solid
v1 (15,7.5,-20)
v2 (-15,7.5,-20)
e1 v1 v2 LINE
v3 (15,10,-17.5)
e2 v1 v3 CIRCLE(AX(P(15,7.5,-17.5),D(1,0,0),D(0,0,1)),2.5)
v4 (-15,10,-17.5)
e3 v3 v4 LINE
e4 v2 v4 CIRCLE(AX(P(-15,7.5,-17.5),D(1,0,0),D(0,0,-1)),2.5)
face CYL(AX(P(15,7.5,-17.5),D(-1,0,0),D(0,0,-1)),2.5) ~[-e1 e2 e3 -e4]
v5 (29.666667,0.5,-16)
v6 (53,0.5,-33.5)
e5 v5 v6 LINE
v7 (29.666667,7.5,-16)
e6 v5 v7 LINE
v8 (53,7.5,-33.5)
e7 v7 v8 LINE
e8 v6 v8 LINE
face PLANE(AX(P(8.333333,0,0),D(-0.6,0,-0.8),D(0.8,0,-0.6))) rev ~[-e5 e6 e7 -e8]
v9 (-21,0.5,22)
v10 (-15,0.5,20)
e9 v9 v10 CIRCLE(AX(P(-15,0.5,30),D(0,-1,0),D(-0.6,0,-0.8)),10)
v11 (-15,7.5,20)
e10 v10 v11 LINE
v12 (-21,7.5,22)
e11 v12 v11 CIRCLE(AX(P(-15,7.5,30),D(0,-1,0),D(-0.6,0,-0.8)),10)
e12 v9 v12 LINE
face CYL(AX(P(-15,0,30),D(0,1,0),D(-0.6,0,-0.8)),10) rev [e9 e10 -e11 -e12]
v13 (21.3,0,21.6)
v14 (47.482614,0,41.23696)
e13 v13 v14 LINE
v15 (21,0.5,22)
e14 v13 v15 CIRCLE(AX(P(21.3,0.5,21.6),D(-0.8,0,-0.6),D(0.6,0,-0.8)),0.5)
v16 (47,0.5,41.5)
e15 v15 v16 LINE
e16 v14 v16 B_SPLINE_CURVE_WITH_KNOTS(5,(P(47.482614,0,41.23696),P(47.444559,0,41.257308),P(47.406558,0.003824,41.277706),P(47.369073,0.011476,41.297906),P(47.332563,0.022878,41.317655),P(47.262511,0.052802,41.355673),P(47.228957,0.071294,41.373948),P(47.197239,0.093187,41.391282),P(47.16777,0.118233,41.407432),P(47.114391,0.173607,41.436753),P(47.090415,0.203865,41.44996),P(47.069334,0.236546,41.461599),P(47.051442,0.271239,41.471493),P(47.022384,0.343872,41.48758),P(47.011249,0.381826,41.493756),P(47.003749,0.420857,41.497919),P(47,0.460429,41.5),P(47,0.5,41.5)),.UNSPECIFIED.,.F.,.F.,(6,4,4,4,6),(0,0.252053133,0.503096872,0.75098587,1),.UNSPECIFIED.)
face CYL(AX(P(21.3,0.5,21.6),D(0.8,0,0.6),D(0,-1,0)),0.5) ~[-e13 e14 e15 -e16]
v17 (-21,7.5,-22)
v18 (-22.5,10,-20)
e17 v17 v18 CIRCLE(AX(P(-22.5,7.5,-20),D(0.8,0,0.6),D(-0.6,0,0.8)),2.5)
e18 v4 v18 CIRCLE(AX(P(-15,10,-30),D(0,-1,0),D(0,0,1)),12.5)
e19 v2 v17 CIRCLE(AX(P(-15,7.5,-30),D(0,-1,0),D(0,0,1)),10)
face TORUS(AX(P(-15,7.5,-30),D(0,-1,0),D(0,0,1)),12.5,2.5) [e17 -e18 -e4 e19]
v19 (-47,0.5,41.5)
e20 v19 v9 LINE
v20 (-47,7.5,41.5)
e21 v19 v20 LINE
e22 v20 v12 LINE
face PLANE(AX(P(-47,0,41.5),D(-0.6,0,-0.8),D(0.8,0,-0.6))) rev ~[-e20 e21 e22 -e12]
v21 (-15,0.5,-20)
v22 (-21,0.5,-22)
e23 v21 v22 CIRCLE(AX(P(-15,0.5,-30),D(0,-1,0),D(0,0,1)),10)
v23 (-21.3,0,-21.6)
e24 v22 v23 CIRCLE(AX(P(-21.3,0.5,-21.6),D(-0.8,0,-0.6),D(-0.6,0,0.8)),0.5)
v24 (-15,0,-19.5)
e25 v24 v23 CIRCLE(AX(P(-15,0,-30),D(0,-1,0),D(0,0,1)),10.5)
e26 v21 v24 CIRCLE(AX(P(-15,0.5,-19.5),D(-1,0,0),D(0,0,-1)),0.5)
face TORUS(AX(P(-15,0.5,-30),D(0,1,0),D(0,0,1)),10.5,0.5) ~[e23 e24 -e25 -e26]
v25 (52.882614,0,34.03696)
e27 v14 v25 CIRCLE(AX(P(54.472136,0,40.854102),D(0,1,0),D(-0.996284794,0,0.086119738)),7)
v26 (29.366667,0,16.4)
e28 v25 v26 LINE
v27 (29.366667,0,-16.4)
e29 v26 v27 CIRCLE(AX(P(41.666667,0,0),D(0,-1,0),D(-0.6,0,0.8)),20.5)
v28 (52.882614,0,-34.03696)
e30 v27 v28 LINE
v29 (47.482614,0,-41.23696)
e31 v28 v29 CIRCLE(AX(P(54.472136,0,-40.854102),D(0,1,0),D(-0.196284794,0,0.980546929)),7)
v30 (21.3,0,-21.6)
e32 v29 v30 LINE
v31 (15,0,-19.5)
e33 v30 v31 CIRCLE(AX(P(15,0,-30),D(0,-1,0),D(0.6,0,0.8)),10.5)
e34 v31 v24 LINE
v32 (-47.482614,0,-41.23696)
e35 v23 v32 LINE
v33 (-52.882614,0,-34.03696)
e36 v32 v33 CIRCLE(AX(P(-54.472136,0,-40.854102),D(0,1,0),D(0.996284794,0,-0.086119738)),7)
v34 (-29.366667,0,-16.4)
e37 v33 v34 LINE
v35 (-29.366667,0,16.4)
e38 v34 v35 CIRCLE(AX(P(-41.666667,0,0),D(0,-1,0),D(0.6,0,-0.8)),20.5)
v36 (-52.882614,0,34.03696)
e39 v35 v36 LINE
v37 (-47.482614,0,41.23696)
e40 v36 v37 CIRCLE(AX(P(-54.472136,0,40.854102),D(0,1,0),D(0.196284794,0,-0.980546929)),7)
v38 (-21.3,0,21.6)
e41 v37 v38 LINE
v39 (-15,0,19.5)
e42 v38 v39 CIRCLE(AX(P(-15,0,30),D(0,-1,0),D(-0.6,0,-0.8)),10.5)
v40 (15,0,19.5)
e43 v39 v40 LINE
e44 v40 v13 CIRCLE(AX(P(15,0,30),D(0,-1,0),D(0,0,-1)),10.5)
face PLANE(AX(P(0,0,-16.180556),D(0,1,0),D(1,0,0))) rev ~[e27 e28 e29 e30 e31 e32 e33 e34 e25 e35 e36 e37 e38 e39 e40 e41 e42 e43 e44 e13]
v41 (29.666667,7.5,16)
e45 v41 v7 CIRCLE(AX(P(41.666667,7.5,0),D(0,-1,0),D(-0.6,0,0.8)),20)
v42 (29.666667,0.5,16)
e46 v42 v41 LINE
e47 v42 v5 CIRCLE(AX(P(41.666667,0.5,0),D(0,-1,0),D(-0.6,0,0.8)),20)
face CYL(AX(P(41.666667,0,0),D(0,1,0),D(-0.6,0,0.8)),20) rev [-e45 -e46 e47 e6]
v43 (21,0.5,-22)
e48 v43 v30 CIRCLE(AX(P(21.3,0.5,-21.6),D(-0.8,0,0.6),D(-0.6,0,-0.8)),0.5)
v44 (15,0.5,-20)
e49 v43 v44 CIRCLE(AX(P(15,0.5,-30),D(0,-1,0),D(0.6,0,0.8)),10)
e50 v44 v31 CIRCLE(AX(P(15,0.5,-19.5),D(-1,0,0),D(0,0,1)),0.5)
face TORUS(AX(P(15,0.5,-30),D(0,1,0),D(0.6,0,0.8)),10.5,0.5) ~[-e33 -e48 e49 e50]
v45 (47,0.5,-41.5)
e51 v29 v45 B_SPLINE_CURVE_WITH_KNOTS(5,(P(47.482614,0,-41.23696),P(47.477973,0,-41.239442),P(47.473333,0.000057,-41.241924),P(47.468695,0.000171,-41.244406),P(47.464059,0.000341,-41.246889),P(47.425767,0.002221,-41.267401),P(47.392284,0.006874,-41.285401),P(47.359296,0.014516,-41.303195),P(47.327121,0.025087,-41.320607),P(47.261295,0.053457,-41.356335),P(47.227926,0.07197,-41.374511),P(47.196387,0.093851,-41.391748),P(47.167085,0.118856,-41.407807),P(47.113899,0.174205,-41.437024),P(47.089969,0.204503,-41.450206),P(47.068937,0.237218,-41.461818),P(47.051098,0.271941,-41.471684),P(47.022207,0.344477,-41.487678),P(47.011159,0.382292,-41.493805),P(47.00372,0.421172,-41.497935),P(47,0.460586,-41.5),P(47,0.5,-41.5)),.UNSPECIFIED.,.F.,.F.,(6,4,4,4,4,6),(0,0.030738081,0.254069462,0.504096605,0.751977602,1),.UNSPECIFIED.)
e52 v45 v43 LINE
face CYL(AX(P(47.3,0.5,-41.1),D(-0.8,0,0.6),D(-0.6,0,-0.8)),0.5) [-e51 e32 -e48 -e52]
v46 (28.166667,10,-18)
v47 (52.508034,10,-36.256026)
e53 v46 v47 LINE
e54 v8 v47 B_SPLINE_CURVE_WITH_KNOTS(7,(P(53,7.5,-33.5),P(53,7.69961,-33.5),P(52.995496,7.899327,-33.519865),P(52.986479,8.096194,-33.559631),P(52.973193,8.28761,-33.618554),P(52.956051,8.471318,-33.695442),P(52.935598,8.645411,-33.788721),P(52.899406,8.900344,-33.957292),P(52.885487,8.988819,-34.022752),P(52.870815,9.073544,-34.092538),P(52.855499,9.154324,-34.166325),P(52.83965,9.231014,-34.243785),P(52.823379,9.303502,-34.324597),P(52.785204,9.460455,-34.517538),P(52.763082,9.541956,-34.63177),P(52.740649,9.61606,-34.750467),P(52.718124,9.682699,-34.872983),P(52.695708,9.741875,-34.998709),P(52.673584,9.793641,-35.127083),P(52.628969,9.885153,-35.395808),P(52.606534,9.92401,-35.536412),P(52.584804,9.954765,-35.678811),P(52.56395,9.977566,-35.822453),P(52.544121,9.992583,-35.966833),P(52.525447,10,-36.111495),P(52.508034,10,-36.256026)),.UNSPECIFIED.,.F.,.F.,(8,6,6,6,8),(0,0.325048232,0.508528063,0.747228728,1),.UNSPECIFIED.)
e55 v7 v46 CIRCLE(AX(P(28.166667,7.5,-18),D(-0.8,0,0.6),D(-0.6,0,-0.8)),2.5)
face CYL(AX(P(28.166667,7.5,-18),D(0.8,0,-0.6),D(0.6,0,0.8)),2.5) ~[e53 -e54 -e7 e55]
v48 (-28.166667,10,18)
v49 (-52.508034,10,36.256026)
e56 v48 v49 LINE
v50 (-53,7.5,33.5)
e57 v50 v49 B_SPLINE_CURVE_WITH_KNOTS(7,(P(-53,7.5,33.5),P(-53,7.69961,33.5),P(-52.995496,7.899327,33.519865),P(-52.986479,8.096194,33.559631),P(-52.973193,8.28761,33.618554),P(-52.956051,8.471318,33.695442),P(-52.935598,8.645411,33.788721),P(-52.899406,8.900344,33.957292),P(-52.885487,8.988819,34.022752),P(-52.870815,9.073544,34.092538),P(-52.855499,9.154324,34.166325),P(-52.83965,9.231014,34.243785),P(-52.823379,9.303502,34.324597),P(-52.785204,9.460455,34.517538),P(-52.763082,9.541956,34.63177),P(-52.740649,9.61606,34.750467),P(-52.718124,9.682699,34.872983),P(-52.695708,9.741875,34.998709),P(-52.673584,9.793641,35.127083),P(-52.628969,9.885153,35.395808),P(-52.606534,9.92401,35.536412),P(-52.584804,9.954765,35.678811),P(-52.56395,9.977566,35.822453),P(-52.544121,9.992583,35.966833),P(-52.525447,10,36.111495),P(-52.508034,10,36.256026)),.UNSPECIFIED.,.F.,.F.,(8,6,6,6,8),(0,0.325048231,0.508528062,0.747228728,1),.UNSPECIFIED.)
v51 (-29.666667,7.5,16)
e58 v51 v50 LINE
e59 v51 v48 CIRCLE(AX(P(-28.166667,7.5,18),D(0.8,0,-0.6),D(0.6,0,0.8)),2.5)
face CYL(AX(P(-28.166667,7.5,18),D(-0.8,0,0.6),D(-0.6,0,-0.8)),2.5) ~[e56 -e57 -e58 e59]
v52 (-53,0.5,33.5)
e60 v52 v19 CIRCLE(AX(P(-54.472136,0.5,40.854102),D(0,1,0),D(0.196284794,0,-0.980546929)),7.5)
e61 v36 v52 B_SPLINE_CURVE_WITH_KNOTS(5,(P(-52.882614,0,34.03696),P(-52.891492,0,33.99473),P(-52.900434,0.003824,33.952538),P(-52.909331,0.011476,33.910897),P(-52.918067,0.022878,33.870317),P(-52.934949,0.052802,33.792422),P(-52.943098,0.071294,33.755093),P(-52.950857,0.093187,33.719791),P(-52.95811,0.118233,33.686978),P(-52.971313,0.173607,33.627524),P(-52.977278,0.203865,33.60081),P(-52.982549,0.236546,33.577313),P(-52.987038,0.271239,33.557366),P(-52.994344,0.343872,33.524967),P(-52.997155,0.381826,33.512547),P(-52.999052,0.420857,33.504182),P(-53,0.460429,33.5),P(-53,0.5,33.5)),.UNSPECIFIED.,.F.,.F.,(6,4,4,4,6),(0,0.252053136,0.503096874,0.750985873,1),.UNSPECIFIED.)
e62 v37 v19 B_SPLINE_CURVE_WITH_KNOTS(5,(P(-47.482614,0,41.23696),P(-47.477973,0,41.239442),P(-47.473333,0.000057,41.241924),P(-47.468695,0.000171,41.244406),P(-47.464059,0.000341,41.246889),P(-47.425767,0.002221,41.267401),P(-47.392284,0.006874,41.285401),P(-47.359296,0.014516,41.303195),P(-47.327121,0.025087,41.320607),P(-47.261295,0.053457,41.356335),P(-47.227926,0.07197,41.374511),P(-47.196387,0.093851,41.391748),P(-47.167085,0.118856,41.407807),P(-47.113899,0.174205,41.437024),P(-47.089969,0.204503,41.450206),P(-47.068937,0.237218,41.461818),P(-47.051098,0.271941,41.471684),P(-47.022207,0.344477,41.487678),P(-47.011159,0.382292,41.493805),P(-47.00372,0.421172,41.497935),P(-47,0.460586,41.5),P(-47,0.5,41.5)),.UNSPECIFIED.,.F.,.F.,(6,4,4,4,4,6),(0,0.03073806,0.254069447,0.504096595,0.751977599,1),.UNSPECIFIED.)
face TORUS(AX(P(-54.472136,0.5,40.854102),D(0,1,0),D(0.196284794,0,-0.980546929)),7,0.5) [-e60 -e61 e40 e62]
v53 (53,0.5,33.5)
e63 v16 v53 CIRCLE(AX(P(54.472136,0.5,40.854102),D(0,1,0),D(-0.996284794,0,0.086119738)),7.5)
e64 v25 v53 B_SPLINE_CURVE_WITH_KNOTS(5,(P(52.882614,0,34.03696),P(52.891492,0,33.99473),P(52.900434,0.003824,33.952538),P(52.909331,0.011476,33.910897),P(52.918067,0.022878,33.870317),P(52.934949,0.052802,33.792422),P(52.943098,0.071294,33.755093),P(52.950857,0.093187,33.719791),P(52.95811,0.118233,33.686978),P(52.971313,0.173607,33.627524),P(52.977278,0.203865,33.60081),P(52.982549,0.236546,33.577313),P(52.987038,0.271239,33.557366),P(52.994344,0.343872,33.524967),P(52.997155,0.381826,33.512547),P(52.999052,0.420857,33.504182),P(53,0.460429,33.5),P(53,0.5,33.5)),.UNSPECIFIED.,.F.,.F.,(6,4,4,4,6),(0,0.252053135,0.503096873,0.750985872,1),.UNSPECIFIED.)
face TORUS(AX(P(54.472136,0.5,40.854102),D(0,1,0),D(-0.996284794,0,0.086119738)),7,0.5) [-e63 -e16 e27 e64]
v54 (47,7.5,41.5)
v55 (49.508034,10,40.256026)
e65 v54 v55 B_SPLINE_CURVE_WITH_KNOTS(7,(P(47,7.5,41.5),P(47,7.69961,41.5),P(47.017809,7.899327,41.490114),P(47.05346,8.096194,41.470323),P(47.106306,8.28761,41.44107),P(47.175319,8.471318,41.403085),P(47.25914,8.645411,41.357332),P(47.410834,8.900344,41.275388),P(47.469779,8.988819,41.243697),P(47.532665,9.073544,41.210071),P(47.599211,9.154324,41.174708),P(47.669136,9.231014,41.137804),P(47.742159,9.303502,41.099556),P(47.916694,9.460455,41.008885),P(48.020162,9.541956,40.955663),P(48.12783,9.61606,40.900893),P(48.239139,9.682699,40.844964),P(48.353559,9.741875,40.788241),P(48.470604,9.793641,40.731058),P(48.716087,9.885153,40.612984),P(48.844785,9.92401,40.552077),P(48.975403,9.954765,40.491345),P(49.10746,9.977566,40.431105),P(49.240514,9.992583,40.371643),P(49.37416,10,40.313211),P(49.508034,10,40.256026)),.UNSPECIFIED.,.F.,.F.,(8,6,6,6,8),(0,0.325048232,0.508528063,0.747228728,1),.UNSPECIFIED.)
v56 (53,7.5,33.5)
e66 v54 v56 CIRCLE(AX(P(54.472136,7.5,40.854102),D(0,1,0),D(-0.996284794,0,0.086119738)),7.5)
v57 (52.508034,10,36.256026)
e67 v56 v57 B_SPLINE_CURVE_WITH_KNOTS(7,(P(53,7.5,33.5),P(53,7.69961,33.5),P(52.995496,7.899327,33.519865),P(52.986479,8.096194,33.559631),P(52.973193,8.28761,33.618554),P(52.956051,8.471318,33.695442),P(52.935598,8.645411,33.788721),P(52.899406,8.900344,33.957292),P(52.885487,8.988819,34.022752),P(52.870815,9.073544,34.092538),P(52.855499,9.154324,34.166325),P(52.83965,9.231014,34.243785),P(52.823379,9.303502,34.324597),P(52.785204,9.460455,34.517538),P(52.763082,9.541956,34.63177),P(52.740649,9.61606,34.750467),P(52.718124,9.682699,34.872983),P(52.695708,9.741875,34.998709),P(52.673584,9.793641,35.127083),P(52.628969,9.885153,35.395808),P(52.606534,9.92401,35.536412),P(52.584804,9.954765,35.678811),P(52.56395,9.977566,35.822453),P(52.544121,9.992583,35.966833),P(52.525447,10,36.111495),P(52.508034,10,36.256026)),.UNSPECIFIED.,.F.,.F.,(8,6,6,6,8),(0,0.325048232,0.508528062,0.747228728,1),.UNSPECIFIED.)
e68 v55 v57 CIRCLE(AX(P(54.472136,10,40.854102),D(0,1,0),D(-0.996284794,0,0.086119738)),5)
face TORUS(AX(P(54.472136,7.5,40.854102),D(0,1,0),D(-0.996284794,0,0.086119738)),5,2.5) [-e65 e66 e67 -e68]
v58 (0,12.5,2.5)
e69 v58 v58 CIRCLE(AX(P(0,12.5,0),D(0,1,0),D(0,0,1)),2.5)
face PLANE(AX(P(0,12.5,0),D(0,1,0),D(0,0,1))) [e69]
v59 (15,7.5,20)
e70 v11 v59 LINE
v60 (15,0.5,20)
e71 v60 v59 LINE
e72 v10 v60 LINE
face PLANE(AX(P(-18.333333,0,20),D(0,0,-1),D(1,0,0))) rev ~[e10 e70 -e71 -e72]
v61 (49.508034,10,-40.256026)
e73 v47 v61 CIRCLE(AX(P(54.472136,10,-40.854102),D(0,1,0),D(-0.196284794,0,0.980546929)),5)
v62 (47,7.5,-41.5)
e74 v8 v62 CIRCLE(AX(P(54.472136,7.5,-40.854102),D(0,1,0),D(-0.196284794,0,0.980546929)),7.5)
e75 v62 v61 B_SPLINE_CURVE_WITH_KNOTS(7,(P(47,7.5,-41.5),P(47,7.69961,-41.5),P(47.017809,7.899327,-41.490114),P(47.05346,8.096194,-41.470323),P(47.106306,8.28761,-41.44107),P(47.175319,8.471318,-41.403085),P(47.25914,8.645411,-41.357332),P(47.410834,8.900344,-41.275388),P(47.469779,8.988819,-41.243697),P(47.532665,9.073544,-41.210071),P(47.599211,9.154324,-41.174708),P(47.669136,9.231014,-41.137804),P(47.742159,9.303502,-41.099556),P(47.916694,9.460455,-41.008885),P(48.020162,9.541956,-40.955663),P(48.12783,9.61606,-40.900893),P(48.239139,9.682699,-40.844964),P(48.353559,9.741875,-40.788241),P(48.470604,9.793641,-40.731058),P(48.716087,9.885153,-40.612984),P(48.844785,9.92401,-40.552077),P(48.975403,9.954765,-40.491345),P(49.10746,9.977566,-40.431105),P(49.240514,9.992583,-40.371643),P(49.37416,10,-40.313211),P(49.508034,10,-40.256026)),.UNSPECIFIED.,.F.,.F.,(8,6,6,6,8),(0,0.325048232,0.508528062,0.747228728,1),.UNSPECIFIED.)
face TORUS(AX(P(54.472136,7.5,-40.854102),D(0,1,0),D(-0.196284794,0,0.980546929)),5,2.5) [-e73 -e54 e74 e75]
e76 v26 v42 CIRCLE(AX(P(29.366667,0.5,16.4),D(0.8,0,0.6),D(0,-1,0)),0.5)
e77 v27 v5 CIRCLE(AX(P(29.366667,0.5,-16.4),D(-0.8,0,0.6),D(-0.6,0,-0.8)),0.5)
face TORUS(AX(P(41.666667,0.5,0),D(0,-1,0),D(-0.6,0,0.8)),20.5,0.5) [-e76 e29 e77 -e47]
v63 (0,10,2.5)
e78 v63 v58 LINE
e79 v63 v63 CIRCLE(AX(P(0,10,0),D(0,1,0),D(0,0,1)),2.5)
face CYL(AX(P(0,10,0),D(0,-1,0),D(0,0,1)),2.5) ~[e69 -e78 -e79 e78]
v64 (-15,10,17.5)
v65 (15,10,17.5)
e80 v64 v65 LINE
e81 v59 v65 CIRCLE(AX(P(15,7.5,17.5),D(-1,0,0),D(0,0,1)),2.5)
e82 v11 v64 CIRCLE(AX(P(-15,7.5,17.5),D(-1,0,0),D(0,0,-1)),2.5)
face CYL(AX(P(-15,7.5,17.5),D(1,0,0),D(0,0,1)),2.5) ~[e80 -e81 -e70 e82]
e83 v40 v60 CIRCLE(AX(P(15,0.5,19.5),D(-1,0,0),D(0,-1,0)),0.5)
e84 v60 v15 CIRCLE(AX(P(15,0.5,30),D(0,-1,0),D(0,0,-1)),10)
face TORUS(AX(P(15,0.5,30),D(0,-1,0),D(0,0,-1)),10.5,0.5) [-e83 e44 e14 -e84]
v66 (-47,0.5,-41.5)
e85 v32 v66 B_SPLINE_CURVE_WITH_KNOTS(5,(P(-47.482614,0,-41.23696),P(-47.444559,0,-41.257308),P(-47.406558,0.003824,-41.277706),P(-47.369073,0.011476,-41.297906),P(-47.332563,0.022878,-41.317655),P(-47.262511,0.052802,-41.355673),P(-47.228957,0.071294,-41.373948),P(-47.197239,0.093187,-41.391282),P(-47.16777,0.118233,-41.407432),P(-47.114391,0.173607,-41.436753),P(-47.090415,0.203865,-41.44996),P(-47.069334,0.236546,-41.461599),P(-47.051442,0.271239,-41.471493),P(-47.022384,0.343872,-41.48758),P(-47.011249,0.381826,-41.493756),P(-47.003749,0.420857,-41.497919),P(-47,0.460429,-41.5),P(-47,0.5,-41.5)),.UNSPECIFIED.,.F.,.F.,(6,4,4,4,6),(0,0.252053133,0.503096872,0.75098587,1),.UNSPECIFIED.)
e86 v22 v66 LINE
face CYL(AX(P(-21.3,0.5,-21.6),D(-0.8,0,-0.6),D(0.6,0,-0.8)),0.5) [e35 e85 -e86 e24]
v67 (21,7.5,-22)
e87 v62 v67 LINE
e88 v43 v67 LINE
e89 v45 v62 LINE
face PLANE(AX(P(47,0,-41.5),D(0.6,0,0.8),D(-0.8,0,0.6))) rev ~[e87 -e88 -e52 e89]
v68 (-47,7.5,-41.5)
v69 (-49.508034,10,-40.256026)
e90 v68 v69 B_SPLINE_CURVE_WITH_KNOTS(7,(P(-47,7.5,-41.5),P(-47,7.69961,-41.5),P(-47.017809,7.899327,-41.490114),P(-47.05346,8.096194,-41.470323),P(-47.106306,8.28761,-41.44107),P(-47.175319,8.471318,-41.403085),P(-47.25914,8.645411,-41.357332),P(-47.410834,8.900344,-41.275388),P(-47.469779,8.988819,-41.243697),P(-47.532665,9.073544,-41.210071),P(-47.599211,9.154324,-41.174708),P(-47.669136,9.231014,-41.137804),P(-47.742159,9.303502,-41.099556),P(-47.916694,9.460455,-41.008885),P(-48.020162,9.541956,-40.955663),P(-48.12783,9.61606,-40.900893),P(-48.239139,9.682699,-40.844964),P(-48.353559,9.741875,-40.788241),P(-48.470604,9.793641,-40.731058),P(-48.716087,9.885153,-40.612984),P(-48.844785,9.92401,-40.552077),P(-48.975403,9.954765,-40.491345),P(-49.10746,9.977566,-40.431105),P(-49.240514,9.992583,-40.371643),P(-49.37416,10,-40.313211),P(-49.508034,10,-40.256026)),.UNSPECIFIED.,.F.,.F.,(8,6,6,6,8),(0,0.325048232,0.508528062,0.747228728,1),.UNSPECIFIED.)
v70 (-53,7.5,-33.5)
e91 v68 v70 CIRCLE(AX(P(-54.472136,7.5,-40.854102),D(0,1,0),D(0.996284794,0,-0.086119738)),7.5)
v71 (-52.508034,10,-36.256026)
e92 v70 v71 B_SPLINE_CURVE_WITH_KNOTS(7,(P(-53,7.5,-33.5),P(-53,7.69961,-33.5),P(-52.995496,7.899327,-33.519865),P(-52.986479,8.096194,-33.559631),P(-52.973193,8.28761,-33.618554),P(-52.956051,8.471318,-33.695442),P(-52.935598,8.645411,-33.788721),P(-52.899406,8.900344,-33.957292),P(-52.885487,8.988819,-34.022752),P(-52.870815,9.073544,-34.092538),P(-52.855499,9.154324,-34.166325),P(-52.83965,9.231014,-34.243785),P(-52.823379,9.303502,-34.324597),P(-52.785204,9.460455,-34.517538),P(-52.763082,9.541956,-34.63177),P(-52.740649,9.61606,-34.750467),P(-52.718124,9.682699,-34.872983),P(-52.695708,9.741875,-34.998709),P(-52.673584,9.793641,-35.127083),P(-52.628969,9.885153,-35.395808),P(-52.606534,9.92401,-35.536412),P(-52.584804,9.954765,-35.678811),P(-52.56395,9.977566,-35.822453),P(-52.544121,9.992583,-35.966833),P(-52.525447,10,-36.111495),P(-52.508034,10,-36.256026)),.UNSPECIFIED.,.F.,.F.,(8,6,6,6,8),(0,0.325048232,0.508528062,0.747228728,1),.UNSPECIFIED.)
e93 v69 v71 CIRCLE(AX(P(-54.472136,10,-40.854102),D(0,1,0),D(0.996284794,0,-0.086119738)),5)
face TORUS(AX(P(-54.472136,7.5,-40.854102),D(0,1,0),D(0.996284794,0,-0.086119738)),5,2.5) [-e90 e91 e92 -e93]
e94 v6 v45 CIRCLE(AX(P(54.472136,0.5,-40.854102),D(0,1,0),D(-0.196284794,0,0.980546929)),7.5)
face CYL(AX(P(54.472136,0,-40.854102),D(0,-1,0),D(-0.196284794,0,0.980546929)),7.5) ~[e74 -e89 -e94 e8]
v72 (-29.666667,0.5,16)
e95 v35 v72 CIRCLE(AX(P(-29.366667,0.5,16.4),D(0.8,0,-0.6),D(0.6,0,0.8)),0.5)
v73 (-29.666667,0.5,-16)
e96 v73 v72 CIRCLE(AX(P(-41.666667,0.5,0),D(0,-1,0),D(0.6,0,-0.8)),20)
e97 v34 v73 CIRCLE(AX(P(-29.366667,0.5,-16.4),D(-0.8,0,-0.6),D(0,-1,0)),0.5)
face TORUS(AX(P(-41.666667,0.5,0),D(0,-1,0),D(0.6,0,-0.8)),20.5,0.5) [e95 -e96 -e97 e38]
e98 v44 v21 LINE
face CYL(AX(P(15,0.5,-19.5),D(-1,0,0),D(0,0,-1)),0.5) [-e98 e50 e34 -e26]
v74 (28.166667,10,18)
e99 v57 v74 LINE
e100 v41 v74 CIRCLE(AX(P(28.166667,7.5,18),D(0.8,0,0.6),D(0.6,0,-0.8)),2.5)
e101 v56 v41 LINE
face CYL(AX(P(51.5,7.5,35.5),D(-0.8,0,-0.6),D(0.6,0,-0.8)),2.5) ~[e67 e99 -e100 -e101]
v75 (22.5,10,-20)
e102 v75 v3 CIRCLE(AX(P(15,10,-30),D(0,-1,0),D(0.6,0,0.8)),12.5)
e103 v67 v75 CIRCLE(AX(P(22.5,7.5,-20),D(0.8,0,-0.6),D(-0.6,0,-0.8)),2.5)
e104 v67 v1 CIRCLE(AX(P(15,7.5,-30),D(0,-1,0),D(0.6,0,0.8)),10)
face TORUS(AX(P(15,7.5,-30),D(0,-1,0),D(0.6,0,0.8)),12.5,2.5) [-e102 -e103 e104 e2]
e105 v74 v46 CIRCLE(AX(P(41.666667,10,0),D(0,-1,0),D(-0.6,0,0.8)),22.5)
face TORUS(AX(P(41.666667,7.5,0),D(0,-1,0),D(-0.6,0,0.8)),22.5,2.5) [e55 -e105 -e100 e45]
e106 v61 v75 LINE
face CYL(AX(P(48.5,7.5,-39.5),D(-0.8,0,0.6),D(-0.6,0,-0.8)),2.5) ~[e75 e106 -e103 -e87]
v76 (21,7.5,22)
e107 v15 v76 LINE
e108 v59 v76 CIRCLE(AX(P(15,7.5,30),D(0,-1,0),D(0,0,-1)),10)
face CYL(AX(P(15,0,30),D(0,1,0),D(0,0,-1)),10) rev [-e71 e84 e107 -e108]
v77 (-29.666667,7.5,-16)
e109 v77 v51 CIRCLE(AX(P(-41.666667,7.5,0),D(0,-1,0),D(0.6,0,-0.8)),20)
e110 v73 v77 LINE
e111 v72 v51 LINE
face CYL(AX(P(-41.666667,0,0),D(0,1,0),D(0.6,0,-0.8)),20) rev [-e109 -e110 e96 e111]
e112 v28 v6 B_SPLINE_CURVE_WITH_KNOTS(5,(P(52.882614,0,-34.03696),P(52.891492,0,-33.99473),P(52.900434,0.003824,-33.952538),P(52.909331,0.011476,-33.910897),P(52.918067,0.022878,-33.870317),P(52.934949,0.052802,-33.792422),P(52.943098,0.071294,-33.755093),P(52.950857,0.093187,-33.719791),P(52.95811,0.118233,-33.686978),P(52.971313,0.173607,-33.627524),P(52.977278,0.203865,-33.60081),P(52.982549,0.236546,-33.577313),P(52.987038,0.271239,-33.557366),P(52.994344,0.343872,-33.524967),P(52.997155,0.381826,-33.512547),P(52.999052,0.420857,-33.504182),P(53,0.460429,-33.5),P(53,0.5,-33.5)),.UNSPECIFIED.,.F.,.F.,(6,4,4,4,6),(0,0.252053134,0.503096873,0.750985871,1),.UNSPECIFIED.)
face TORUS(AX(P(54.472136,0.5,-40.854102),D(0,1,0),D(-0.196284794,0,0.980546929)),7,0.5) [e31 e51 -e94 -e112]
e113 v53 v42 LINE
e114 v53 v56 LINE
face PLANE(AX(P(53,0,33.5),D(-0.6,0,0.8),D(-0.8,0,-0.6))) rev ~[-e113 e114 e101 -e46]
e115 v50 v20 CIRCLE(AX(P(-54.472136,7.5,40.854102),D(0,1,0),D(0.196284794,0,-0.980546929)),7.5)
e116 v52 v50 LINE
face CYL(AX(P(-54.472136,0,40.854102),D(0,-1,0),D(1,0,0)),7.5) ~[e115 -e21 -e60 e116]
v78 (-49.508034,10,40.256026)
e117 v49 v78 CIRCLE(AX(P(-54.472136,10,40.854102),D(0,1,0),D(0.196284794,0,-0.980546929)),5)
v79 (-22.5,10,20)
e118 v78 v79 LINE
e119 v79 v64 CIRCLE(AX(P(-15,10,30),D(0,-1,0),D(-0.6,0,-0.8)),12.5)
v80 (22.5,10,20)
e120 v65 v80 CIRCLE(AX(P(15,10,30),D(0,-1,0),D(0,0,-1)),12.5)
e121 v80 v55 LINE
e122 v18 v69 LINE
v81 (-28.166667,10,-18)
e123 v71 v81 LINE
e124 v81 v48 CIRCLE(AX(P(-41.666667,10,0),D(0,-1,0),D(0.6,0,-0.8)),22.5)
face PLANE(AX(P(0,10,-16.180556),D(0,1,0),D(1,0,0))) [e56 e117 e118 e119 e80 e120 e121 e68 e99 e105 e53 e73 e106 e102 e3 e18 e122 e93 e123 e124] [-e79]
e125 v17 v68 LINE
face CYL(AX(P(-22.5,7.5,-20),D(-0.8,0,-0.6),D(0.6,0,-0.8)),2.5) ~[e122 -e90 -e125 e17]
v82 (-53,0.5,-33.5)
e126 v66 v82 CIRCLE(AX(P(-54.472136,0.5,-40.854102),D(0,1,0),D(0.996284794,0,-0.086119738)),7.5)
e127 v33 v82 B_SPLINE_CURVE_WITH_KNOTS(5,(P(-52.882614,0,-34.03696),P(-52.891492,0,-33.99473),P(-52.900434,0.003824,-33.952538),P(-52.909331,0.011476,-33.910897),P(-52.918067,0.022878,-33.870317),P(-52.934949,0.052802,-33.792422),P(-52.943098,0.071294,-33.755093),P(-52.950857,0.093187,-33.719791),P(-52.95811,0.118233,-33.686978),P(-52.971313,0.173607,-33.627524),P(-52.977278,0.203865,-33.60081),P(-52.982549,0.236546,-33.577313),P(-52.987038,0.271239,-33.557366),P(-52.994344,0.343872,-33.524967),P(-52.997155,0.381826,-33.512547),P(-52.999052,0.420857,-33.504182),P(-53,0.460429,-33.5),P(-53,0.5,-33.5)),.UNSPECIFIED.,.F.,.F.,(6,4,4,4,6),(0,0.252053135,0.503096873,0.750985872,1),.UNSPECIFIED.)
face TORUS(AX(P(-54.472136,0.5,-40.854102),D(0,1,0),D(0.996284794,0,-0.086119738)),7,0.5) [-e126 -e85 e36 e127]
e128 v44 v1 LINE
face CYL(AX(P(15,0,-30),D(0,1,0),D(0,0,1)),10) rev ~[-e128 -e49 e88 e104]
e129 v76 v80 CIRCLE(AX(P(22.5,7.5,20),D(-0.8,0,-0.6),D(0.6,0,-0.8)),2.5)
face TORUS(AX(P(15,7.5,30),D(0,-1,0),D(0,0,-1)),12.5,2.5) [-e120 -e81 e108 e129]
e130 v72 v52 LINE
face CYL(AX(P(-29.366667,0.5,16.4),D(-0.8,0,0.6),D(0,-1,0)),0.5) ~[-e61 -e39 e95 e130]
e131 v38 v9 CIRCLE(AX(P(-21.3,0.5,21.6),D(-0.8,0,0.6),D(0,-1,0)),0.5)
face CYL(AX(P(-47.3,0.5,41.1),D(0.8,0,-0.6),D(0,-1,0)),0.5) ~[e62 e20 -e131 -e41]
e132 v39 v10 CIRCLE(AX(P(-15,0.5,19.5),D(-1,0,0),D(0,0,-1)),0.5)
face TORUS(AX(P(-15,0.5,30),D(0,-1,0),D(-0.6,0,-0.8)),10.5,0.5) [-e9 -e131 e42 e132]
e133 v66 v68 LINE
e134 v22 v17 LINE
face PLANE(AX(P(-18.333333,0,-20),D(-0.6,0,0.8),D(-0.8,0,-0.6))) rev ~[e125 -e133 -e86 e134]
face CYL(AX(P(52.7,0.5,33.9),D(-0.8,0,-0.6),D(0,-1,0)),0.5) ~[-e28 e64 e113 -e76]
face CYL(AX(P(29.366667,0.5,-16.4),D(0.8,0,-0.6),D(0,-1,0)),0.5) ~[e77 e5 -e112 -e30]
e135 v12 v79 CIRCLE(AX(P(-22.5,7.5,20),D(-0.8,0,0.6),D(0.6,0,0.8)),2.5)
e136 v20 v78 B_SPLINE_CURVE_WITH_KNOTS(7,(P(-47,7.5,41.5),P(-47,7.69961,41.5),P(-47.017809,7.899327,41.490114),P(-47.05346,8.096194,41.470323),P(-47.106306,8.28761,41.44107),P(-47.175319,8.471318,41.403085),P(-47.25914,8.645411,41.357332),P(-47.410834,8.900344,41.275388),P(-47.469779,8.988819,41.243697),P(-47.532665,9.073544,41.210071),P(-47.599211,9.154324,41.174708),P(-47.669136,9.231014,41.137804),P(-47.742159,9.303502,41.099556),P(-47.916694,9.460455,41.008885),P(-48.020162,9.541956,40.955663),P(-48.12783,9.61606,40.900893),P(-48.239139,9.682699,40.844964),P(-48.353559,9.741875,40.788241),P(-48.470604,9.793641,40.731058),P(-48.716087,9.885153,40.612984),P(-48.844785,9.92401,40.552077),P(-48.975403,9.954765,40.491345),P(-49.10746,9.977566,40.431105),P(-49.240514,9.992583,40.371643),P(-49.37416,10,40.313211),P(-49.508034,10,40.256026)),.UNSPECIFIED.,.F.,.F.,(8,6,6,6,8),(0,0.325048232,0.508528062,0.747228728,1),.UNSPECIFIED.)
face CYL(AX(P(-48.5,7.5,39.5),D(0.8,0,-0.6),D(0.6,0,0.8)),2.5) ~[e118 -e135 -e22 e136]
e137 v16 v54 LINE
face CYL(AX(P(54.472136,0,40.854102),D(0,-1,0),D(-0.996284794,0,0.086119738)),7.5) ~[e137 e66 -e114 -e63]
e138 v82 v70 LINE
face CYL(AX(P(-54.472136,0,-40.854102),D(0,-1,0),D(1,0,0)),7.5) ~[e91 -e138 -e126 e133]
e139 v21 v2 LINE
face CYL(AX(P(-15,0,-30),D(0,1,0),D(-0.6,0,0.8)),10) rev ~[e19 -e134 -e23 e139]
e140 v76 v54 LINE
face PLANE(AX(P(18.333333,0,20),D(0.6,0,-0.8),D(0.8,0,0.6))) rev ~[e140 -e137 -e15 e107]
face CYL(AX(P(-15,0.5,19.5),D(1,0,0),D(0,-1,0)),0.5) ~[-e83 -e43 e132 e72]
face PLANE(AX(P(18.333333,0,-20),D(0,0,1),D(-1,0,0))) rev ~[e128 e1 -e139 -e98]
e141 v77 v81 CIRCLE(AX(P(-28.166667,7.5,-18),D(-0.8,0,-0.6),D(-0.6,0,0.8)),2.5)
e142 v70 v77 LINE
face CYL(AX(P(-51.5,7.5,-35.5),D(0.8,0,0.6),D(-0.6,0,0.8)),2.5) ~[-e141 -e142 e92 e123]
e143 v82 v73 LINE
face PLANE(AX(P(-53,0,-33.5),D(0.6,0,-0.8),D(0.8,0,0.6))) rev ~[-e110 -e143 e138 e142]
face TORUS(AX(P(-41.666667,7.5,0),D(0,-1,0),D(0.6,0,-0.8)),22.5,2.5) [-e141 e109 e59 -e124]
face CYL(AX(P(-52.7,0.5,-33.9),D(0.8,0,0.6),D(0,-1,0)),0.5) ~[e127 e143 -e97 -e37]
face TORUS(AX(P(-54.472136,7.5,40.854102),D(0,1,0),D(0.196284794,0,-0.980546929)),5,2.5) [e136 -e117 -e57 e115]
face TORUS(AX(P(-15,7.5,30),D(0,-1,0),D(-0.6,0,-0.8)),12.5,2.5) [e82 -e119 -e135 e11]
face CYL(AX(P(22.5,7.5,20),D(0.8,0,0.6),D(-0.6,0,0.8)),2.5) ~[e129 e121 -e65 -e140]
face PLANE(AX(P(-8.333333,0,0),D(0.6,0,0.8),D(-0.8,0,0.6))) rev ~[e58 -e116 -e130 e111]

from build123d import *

# Parameters (mm, degrees)
SKETCH1_R           = 7.5
BOSS_EXTRUDE1_DEPTH = 10
FILLET1_R           = 20
SKETCH2_R           = 2.5
BOSS_EXTRUDE2_DEPTH = 2.5
FILLET2_R           = 10
FILLET4_R           = 2.5
FILLET5_R           = 0.5


with BuildPart() as part:
    # Sketch1 → Boss-Extrude1 (new body)
    with BuildSketch(Plane(origin=(0, 0, 0), x_dir=(1, 0, 0), z_dir=(0, 1, 0))):
        Polygon((-18.333333333, 20), (0, 6.25), (18.333333333, 20), align=None)
        with BuildLine():
            Line((-53, 33.5), (-8.333333333, 0))
            Line((-8.333333333, 0), (0, 6.25))
            Line((0, 6.25), (-18.333333333, 20))
            Line((-18.333333333, 20), (-47, 41.5))
            ThreePointArc((-47, 41.5), (-46.979105204, 41.177351357), (-46.972135955, 40.854101966))
            ThreePointArc((-46.972135955, 40.854101966), (-48.671660989, 36.099684003), (-53, 33.5))
        make_face()
        Polygon((-8.333333333, 0), (0, -6.25), (8.333333333, 0), (0, 6.25), align=None)
        with BuildLine():
            Line((0, 6.25), (8.333333333, 0))
            Line((8.333333333, 0), (53, 33.5))
            ThreePointArc((53, 33.5), (48.472135955, 36.354101966), (47, 41.5))
            Line((47, 41.5), (18.333333333, 20))
            Line((18.333333333, 20), (0, 6.25))
        make_face()
        with BuildLine():
            Line((0, -6.25), (18.333333333, -20))
            Line((18.333333333, -20), (47, -41.5))
            ThreePointArc((47, -41.5), (48.472135955, -36.354101966), (53, -33.5))
            Line((53, -33.5), (8.333333333, 0))
            Line((8.333333333, 0), (0, -6.25))
        make_face()
        Polygon((-18.333333333, -20), (18.333333333, -20), (0, -6.25), align=None)
        with BuildLine():
            Line((-18.333333333, -20), (0, -6.25))
            Line((0, -6.25), (-8.333333333, 0))
            Line((-8.333333333, 0), (-53, -33.5))
            ThreePointArc((-53, -33.5), (-48.671660989, -36.099684003), (-46.972135955, -40.854101966))
            ThreePointArc((-46.972135955, -40.854101966), (-46.979105204, -41.177351357), (-47, -41.5))
            Line((-47, -41.5), (-18.333333333, -20))
        make_face()
        with Locations((-54.472135955, 40.854101966)):
            Circle(SKETCH1_R)
        with Locations((-54.472135955, -40.854101966)):
            Circle(SKETCH1_R)
        with Locations((54.472135955, -40.854101966)):
            Circle(SKETCH1_R)
        with Locations((54.472135955, 40.854101966)):
            Circle(SKETCH1_R)
    extrude(amount=BOSS_EXTRUDE1_DEPTH)

    # Fillet1
    fillet1_edges = [part.edges().sort_by_distance(p)[0] for p in [
        (8.333333333, 5, 0),
        (-8.333333333, 5, 0),
    ]]
    fillet(fillet1_edges, radius=FILLET1_R)

    # Sketch2 → Boss-Extrude2 (add)
    with BuildSketch(Plane(origin=(0, 10, 0), x_dir=(1, 0, 0), z_dir=(0, 1, 0))):
        with Locations(Location((0, 0, 0), (0, 0, 270))):
            Circle(SKETCH2_R)
    extrude(amount=BOSS_EXTRUDE2_DEPTH)

    # Fillet2
    fillet2_edges = [part.edges().sort_by_distance(p)[0] for p in [
        (18.333333333, 5, -20),
        (18.333333333, 5, 20),
        (-18.333333333, 5, 20),
        (-18.333333333, 5, -20),
    ]]
    fillet(fillet2_edges, radius=FILLET2_R)

    # Fillet4
    fillet4_edges = [part.edges().sort_by_distance(p)[0] for p in [
        (-34, 10, -31.75),
        (-60.472135955, 10, -45.354101966),
        (-41.333333333, 10, -24.75),
        (-41.333333333, 10, 24.75),
        (-60.472135955, 10, 45.354101966),
        (-34, 10, 31.75),
        (41.333333333, 10, -24.75),
        (41.333333333, 10, 24.75),
        (60.472135955, 10, 45.354101966),
        (21.666666667, 10, 0),
        (-21.666666667, 10, 0),
        (60.472135955, 10, -45.354101966),
        (34, 10, 31.75),
        (0, 10, 20),
        (0, 10, -20),
        (34, 10, -31.75),
        (18.16227766, 10, 20.513167019),
        (-18.16227766, 10, 20.513167019),
        (18.16227766, 10, -20.513167019),
        (-18.16227766, 10, -20.513167019),
    ]]
    fillet(fillet4_edges, radius=FILLET4_R)

    # Fillet5
    fillet5_edges = [part.edges().sort_by_distance(p)[0] for p in [
        (60.472135955, 0, -45.354101966),
        (60.472135955, 0, 45.354101966),
        (-34, 0, 31.75),
        (-60.472135955, 0, 45.354101966),
        (-41.333333333, 0, 24.75),
        (-41.333333333, 0, -24.75),
        (-60.472135955, 0, -45.354101966),
        (-34, 0, -31.75),
        (41.333333333, 0, -24.75),
        (41.333333333, 0, 24.75),
        (21.666666667, 0, 0),
        (-21.666666667, 0, 0),
        (34, 0, 31.75),
        (0, 0, 20),
        (0, 0, -20),
        (34, 0, -31.75),
        (18.16227766, 0, 20.513167019),
        (-18.16227766, 0, 20.513167019),
        (18.16227766, 0, -20.513167019),
        (-18.16227766, 0, -20.513167019),
    ]]
    fillet(fillet5_edges, radius=FILLET5_R)


solid = part.part
